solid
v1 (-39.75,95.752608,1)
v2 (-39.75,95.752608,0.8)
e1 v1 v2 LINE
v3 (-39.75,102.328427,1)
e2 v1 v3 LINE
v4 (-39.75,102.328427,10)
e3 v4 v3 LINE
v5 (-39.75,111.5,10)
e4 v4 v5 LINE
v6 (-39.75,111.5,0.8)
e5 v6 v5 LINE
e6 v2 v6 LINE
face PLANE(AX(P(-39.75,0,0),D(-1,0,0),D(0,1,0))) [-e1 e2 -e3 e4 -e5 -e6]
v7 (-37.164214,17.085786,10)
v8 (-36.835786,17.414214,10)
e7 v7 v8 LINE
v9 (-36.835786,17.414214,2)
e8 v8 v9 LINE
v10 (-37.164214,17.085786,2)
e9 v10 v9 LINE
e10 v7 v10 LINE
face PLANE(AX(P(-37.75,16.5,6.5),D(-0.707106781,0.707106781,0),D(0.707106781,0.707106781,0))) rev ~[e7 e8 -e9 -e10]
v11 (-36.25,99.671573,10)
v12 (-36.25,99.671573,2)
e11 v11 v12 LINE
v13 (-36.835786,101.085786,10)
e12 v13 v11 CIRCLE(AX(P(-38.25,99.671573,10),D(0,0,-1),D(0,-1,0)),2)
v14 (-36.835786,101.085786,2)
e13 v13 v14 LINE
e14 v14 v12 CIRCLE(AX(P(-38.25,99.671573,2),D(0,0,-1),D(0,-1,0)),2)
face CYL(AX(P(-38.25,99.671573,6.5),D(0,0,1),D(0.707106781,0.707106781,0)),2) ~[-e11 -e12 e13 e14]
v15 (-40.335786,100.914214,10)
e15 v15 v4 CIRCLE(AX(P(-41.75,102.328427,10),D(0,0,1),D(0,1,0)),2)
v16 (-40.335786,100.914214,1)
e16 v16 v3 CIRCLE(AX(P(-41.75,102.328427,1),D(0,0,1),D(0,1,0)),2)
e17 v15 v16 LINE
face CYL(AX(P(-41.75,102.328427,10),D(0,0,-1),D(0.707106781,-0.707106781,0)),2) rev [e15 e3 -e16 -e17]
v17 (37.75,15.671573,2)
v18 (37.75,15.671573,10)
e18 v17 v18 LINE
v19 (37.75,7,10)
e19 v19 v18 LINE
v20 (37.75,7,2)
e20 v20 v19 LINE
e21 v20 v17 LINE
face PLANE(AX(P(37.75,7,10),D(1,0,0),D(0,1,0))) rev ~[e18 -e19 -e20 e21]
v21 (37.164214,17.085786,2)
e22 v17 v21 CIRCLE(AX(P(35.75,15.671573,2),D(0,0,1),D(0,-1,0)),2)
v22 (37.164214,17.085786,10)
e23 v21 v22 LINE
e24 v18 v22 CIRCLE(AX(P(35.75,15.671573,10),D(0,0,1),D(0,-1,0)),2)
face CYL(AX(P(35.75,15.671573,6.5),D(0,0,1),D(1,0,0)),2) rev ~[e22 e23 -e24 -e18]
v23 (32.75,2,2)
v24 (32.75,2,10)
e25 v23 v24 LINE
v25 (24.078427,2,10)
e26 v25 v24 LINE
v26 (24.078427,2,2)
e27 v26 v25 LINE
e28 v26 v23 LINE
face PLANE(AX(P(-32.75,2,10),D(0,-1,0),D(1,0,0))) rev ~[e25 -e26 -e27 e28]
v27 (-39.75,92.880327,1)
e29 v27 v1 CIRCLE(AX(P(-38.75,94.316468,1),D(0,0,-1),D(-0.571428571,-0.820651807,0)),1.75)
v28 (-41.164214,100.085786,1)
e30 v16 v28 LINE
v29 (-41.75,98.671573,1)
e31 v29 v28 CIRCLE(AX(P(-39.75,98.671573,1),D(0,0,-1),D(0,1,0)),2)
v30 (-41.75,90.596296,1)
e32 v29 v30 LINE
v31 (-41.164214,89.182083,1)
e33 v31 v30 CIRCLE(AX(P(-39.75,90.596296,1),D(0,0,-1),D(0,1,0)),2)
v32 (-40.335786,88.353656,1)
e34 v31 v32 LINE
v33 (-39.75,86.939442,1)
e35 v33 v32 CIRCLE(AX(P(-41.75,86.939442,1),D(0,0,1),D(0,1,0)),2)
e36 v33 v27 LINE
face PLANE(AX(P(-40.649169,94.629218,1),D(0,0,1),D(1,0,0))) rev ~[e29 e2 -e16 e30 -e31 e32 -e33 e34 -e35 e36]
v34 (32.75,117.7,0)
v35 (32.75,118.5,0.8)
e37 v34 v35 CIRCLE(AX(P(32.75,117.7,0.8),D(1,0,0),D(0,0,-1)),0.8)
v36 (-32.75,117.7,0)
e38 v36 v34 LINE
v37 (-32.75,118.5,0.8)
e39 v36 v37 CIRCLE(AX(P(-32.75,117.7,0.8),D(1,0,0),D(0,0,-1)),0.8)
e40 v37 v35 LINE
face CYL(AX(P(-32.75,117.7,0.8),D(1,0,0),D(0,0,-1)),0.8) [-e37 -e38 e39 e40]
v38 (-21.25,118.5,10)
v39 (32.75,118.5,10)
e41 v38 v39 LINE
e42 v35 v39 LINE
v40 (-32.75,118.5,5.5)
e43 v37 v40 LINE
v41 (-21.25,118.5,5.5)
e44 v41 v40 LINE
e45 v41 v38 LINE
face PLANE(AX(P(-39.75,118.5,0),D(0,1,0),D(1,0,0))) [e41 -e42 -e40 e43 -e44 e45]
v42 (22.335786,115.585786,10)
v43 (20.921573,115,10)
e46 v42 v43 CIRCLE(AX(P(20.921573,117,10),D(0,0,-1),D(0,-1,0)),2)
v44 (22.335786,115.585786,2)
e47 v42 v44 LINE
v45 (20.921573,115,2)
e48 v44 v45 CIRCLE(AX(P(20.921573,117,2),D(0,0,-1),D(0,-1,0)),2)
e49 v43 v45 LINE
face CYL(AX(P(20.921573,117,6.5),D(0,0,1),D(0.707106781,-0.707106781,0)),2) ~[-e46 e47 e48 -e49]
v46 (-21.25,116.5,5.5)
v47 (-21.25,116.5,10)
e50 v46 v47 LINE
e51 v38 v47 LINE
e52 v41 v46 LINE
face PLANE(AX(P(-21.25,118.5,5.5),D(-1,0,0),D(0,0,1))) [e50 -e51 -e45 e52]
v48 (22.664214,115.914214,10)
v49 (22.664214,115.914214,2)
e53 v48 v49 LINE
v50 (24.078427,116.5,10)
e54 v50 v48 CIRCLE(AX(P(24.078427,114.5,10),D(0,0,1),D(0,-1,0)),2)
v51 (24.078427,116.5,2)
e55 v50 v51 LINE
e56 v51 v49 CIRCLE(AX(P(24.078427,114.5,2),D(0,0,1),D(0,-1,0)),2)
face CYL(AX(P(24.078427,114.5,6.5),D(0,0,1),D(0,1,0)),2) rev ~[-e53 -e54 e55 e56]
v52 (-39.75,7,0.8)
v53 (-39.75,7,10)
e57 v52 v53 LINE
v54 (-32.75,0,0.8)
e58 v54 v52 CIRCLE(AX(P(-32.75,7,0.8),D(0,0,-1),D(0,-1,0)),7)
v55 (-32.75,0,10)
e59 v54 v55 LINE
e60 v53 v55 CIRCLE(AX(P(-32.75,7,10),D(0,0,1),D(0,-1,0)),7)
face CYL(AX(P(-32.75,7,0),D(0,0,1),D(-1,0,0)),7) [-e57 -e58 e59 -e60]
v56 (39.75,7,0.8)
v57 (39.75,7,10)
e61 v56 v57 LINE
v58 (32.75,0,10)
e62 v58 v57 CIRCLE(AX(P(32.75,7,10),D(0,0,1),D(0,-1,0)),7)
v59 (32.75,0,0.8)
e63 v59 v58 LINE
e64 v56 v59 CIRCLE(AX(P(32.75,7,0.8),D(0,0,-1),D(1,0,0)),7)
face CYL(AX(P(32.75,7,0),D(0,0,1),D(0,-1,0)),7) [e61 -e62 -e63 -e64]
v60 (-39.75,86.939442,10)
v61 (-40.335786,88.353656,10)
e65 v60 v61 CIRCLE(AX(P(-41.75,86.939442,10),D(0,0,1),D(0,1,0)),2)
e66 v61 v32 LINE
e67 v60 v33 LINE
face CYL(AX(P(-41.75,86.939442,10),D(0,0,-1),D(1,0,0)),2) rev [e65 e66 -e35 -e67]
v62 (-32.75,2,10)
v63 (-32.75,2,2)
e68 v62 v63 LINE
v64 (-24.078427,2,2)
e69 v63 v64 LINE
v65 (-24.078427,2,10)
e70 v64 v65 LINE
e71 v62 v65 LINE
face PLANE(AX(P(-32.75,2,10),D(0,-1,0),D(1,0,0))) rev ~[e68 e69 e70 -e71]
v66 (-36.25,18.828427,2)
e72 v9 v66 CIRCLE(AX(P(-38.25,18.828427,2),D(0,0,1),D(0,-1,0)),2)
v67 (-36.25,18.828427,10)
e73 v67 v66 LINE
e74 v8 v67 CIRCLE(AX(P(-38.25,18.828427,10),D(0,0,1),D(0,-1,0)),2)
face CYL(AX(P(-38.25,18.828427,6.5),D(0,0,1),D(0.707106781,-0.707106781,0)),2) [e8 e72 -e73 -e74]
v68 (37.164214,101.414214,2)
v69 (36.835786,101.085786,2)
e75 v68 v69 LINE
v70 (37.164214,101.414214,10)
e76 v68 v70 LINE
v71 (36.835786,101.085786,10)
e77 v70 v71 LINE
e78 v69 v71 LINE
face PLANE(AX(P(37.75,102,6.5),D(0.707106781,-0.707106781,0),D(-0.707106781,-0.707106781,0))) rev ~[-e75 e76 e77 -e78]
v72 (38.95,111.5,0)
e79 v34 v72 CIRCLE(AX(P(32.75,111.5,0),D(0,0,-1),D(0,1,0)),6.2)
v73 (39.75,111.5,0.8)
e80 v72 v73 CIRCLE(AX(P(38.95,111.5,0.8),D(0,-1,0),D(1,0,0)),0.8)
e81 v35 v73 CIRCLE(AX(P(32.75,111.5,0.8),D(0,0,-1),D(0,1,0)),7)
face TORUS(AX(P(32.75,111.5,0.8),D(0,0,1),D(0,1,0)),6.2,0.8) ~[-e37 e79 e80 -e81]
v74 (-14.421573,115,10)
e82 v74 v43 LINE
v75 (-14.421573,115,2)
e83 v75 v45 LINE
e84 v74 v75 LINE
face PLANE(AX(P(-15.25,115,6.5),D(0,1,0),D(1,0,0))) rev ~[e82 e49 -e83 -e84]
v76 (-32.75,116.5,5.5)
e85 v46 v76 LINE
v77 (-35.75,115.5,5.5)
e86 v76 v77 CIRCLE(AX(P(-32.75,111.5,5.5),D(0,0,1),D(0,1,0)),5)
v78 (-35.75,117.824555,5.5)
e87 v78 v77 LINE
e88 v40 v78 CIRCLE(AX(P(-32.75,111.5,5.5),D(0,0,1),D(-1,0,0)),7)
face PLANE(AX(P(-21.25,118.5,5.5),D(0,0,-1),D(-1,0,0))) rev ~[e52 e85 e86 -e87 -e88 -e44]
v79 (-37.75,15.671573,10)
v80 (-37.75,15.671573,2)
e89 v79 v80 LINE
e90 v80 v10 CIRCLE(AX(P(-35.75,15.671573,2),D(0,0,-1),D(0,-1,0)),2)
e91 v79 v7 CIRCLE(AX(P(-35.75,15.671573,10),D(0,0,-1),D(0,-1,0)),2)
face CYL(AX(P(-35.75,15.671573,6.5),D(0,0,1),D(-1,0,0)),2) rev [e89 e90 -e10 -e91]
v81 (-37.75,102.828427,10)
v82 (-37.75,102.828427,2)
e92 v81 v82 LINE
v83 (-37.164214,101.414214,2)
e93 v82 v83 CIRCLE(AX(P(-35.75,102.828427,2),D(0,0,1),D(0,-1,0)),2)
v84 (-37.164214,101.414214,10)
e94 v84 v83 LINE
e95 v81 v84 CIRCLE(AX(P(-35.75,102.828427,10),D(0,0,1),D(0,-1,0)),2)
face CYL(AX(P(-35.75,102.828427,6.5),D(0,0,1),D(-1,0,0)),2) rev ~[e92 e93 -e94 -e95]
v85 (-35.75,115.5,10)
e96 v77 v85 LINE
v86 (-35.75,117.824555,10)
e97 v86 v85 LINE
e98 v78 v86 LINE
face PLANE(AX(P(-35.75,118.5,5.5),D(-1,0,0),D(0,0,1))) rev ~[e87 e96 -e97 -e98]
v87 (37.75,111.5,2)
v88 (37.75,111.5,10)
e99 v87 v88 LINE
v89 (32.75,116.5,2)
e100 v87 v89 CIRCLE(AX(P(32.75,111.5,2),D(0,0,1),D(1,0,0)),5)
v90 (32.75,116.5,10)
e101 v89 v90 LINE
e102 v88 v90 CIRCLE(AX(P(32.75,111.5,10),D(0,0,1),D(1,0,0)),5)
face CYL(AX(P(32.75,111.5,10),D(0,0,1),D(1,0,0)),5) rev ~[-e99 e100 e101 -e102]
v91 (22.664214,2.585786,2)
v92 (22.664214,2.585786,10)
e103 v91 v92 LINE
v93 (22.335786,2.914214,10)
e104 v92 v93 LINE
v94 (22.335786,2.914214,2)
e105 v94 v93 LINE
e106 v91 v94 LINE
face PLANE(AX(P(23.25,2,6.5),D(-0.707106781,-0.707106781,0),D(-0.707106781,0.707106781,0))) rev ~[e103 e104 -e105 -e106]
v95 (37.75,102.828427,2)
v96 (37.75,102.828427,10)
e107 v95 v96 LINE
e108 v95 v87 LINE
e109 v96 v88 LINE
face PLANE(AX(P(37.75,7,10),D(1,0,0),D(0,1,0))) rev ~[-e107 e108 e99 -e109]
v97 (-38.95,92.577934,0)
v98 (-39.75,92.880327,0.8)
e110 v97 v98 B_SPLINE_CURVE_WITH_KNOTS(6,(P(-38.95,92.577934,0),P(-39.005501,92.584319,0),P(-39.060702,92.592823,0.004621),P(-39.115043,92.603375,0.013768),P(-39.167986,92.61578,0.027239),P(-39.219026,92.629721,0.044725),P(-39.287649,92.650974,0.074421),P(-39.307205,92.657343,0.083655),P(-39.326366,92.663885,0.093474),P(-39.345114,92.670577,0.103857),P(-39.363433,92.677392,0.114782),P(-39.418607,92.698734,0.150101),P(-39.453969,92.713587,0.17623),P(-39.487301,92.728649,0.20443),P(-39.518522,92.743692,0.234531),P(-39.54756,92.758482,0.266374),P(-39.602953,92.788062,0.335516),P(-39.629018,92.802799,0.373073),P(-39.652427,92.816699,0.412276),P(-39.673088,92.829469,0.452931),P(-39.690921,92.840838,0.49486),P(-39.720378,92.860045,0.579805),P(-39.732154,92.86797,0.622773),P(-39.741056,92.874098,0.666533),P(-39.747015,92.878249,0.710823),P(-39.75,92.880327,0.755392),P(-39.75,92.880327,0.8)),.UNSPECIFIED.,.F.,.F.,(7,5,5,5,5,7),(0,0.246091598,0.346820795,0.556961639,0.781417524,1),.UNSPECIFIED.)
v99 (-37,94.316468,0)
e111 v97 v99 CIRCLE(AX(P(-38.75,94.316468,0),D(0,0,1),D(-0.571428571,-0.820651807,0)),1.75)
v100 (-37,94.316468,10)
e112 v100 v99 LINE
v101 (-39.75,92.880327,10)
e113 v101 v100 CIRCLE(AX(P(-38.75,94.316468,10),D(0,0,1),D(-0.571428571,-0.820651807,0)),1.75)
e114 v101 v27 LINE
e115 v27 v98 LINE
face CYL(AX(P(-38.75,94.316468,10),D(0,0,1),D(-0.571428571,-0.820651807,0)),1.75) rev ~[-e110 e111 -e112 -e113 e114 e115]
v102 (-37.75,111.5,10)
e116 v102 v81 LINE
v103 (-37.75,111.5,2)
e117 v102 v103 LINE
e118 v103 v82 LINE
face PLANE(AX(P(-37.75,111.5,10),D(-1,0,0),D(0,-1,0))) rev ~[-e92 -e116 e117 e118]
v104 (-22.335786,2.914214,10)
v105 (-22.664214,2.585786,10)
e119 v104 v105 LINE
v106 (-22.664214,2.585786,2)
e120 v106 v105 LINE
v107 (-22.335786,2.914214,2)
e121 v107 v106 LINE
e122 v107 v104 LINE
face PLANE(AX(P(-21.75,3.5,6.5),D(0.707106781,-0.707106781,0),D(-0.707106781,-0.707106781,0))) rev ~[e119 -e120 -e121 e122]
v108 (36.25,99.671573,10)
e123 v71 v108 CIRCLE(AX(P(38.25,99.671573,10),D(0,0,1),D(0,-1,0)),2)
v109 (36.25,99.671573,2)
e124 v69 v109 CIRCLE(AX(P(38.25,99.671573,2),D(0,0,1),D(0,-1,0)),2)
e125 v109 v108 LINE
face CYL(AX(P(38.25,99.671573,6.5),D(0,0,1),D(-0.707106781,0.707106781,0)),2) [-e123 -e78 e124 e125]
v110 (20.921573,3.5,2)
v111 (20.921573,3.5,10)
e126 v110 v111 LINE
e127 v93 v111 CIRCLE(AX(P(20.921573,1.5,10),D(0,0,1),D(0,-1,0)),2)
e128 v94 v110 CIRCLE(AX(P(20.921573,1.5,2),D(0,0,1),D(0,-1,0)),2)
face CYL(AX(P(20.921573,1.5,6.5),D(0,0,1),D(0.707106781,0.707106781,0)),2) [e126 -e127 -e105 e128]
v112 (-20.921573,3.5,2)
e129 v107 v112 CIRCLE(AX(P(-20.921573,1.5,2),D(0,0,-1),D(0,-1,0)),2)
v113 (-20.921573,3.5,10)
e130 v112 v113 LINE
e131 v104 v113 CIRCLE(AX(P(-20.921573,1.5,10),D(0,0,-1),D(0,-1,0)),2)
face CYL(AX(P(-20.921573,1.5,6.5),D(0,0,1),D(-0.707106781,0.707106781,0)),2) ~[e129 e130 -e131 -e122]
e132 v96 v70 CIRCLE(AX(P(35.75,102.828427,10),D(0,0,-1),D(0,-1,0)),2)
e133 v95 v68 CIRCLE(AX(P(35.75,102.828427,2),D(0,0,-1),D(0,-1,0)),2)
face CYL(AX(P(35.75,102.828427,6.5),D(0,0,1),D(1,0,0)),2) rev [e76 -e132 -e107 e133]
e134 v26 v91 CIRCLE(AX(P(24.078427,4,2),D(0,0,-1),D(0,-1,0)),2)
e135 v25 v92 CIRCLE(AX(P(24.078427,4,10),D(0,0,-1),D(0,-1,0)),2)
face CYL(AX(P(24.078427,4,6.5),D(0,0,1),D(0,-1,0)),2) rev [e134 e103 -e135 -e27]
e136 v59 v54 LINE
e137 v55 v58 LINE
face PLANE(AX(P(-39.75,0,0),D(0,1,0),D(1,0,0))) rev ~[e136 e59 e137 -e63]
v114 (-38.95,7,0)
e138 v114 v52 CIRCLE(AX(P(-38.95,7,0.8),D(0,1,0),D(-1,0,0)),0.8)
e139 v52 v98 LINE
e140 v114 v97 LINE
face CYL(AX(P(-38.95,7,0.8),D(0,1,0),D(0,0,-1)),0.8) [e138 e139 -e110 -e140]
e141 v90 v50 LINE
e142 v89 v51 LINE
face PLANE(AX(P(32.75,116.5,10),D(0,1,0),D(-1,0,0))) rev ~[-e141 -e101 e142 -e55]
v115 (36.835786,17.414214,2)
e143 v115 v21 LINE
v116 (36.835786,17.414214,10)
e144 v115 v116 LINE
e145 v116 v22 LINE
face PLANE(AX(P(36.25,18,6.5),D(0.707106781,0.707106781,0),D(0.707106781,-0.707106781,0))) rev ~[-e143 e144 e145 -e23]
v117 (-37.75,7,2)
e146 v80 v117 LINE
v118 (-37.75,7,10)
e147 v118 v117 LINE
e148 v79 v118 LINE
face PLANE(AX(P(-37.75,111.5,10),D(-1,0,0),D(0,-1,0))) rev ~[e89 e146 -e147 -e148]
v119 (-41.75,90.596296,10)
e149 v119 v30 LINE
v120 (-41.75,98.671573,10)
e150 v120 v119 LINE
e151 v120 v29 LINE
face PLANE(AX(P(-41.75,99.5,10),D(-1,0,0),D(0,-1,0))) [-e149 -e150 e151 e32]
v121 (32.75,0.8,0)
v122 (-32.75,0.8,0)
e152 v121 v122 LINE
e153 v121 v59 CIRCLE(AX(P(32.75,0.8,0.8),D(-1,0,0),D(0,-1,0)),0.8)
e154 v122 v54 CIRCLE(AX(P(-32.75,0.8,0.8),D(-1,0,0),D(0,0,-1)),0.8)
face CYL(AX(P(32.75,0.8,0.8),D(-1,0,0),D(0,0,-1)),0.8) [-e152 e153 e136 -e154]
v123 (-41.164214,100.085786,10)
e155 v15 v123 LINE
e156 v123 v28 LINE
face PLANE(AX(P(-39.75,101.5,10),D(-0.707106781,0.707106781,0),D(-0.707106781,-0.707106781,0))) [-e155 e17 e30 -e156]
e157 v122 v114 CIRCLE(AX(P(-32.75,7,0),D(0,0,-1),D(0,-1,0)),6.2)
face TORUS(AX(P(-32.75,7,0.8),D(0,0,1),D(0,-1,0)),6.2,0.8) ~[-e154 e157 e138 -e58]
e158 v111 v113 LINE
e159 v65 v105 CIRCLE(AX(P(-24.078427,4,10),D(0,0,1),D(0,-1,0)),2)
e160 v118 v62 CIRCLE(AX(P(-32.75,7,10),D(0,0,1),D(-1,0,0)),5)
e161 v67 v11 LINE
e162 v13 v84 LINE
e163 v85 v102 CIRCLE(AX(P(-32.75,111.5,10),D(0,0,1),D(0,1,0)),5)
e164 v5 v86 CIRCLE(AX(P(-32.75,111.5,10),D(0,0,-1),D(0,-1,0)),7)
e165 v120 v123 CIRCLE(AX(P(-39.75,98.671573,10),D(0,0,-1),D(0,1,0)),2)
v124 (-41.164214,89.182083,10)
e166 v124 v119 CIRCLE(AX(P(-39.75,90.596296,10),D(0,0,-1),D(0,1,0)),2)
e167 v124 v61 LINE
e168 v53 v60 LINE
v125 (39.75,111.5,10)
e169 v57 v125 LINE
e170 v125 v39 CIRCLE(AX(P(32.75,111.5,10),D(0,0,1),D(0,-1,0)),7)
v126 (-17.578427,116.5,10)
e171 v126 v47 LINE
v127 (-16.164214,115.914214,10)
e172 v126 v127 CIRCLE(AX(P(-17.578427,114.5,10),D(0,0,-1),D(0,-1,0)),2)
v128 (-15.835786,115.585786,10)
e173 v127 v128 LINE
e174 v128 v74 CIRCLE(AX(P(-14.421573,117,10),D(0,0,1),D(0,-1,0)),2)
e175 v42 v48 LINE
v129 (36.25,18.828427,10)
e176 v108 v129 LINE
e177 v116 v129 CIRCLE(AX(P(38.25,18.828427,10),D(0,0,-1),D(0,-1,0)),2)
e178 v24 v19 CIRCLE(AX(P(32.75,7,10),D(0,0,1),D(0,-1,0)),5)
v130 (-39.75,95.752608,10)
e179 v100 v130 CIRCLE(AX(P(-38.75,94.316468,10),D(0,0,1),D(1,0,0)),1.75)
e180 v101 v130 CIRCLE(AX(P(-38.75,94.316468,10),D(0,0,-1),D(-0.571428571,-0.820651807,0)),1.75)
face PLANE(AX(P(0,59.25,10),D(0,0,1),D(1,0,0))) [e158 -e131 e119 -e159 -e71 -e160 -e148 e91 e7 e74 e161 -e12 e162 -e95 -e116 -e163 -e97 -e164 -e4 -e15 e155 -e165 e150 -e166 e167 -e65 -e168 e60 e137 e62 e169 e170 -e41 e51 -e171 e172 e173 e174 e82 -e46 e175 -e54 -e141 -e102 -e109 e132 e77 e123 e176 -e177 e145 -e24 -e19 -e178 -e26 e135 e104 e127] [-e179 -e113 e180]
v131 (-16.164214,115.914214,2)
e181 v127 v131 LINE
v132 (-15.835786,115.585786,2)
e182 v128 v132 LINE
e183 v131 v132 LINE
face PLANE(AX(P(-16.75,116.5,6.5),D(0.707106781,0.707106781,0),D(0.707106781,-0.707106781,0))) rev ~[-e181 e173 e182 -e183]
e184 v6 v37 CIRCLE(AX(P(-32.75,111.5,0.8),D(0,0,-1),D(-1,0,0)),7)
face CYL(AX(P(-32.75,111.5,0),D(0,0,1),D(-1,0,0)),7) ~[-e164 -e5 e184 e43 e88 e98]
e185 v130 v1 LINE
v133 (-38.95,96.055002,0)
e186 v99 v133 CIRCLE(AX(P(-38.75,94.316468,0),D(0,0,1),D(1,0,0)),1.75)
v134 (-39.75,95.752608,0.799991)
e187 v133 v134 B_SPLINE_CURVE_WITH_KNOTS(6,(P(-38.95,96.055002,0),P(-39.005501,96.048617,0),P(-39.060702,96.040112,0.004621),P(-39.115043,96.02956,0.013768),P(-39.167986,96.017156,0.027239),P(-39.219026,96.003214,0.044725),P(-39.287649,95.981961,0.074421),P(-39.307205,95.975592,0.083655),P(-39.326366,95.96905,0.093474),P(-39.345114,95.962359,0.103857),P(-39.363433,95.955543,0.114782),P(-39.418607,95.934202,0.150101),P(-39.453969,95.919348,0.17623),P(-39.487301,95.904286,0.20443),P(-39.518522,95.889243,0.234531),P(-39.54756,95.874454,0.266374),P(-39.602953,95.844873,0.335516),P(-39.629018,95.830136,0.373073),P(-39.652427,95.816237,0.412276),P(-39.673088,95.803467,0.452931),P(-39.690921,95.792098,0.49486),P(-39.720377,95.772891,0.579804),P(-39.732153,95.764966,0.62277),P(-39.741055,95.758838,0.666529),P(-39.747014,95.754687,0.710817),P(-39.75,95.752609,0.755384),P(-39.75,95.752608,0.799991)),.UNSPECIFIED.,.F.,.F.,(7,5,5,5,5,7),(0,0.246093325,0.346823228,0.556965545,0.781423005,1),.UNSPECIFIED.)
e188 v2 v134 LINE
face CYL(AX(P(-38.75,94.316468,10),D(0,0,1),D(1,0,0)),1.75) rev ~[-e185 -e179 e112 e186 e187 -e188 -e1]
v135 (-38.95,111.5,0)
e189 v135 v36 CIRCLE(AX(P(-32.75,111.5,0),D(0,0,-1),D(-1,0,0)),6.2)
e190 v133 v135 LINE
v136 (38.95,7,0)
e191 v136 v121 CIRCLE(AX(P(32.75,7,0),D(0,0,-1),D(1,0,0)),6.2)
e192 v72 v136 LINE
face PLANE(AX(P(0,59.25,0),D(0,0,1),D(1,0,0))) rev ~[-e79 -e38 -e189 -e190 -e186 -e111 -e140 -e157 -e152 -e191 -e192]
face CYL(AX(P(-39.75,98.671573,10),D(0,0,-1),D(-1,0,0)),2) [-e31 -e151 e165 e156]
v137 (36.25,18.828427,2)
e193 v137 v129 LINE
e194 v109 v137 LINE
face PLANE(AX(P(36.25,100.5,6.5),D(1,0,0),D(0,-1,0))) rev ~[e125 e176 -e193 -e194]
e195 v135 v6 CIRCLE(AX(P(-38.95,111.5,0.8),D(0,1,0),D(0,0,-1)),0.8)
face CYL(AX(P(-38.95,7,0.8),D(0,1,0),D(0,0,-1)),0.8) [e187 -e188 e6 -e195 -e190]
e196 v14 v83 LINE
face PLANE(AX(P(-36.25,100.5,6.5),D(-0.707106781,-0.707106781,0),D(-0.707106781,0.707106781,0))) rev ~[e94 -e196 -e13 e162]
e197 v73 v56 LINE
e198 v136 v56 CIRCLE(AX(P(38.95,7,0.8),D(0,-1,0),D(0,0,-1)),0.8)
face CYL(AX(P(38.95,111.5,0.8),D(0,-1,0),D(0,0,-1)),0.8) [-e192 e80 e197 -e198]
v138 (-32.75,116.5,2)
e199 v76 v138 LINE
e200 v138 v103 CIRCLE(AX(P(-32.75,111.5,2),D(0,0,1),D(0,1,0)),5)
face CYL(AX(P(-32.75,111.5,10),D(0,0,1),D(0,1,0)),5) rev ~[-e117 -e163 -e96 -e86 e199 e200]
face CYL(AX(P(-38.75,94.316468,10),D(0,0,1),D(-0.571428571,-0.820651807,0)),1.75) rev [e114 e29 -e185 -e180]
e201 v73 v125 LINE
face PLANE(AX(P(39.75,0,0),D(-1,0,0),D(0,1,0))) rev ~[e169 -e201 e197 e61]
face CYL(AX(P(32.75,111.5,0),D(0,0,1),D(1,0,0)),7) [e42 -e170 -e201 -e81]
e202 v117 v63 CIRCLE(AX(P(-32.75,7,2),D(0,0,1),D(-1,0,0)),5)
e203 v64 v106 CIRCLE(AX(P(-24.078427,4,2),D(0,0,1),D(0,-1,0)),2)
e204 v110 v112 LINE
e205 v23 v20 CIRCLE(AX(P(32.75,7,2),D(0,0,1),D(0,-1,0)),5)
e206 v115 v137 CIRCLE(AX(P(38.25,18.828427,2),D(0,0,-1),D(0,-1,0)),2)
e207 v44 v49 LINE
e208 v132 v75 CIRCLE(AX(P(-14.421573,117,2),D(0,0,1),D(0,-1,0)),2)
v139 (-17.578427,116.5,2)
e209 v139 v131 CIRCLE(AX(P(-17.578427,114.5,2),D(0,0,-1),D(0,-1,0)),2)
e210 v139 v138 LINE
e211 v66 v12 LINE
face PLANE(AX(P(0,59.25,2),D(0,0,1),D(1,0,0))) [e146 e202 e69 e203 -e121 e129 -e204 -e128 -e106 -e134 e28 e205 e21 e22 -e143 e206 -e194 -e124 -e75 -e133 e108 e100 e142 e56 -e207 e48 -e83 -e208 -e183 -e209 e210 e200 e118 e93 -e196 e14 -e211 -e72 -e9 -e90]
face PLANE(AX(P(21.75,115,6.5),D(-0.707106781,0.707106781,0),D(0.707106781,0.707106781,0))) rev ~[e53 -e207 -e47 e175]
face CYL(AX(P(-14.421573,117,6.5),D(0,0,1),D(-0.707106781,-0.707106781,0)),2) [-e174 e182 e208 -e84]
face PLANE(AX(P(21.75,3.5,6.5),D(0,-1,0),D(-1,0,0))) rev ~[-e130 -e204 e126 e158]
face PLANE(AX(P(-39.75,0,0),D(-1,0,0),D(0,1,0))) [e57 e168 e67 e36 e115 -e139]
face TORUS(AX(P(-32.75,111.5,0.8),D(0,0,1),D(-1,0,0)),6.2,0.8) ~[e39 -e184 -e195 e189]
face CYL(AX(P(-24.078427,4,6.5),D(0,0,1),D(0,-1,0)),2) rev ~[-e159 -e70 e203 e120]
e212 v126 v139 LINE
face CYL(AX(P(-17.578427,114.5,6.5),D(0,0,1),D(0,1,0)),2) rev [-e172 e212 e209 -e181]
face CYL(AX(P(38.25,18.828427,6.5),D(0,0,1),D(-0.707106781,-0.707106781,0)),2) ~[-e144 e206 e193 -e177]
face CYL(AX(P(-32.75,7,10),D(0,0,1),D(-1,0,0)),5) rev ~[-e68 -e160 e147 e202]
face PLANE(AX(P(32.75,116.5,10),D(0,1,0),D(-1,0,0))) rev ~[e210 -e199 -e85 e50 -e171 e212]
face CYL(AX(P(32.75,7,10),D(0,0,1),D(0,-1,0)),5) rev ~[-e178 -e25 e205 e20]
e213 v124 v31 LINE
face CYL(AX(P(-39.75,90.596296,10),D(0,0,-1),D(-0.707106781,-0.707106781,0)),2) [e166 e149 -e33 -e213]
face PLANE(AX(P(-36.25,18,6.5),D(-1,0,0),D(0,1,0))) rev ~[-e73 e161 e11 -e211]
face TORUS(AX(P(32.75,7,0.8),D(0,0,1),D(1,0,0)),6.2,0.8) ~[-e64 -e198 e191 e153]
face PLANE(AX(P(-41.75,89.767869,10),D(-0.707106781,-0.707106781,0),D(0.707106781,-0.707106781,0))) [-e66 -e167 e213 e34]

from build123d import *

# Parameters (mm, degrees)
F0_W      = 79.5
F0_H      = 118.5
F1_DEPTH  = 10
F3_R      = 7
F5_DEPTH  = 3.5
F6_R      = 0.8
F8_DEPTH  = 3.5
F9_R      = 2
F10_DEPTH = 4.5
F2_W      = 14.5
F2_H      = 4.5
F11_DEPTH = 4
F13_DEPTH = 9
F14_DEPTH = 25
F15_R     = 2


with BuildPart() as f1:
    # F0 (on Top) → F1 (new body)
    with BuildSketch(Plane.XY):
        with Locations((0, 59.25)):
            Rectangle(F0_W, F0_H)
    extrude(amount=F1_DEPTH)

    # F3
    f3_edges = [f1.edges().sort_by_distance(p)[0] for p in [
        (-39.75, 118.5, 5),
        (-39.75, 0, 5),
        (39.75, 0, 5),
        (39.75, 118.5, 5),
    ]]
    fillet(f3_edges, radius=F3_R)

    # F4 (on face) → F5 (cut)
    with BuildSketch(Plane.XY.offset(10)):
        with BuildLine():
            Line((32.75, 116.5), (-32.75, 116.5))
            ThreePointArc((-32.75, 116.5), (-36.2855339059, 115.0355339059), (-37.75, 111.5))
            Line((-37.75, 111.5), (-37.75, 7))
            ThreePointArc((-37.75, 7), (-36.2855339059, 3.4644660941), (-32.75, 2))
            Line((-32.75, 2), (32.75, 2))
            ThreePointArc((32.75, 2), (36.2855339059, 3.4644660941), (37.75, 7))
            Line((37.75, 7), (37.75, 111.5))
            ThreePointArc((37.75, 111.5), (36.2855339059, 115.0355339059), (32.75, 116.5))
        make_face()
    extrude(amount=-F5_DEPTH, mode=Mode.SUBTRACT)

    # F6
    f6_edges = [f1.edges().sort_by_distance(p)[0] for p in [
        (0, 118.5, 0),
        (37.699747, 116.449747, 0),
        (-37.699747, 116.449747, 0),
        (39.75, 59.25, 0),
        (-39.75, 59.25, 0),
        (37.699747, 2.050253, 0),
        (-37.699747, 2.050253, 0),
        (0, 0, 0),
    ]]
    fillet(f6_edges, radius=F6_R)

    # F7 (on face) → F8 (join)
    with BuildSketch(Plane.XY.offset(6.5)):
        Polygon((-36.25, 100.5), (-37.75, 102), (-37.75, 16.5), (-36.25, 18), align=None)
        Polygon((37.75, 16.5), (37.75, 102), (36.25, 100.5), (36.25, 18), align=None)
        Polygon((-21.75, 3.5), (-23.25, 2), (23.25, 2), (21.75, 3.5), align=None)
        Polygon((23.25, 116.5), (-16.75, 116.5), (-15.25, 115), (21.75, 115), align=None)
    extrude(amount=F8_DEPTH)

    # F9
    f9_edges = [f1.edges().sort_by_distance(p)[0] for p in [
        (-37.75, 102, 8.25),
        (-36.25, 100.5, 8.25),
        (-37.75, 16.5, 8.25),
        (-36.25, 18, 8.25),
        (36.25, 100.5, 8.25),
        (37.75, 102, 8.25),
        (36.25, 18, 8.25),
        (37.75, 16.5, 8.25),
        (23.25, 2, 8.25),
        (21.75, 3.5, 8.25),
        (-23.25, 2, 8.25),
        (-21.75, 3.5, 8.25),
        (-16.75, 116.5, 8.25),
        (-15.25, 115, 8.25),
        (21.75, 115, 8.25),
        (23.25, 116.5, 8.25),
    ]]
    fillet(f9_edges, radius=F9_R)

    # F10 (cut): a face of the model
    f10_faces = [f1.faces().sort_by_distance(p)[0] for p in [
        (-0.0227609258, 59.3168047951, 6.5),
    ]]
    extrude(f10_faces, amount=-F10_DEPTH, mode=Mode.SUBTRACT)

    # F2 (on face) → F11 (cut)
    with BuildSketch(Plane(origin=(0, 118.5, 0), x_dir=(-1, 0, 0), z_dir=(0, 1, 0))):
        with Locations((28.5, 7.75)):
            Rectangle(F2_W, F2_H)
    extrude(amount=-F11_DEPTH, mode=Mode.SUBTRACT)

    # F12 (on face) → F13 (join)
    with BuildSketch(Plane.XY.offset(10)):
        with BuildLine():
            ThreePointArc((-39.75, 92.8803269811), (-40.5, 94.3164676428), (-39.75, 95.7526083044))
            Line((-39.75, 95.7526083044), (-39.75, 101.5))
            Line((-39.75, 101.5), (-41.75, 99.5))
            Line((-41.75, 99.5), (-41.75, 89.7678693718))
            Line((-41.75, 89.7678693718), (-39.75, 87.7678693718))
            Line((-39.75, 87.7678693718), (-39.75, 92.8803269811))
        make_face()
    extrude(amount=-F13_DEPTH)

    # F12 (on face) → F14 (cut)
    with BuildSketch(Plane.XY.offset(10)):
        with BuildLine():
            Line((-39.75, 92.8803269811), (-39.75, 95.7526083044))
            ThreePointArc((-39.75, 95.7526083044), (-40.5, 94.3164676428), (-39.75, 92.8803269811))
        make_face()
        with BuildLine():
            ThreePointArc((-39.75, 92.8803269811), (-37.9399074127, 92.765258437), (-37, 94.3164676428))
            ThreePointArc((-37, 94.3164676428), (-37.9399074127, 95.8676768485), (-39.75, 95.7526083044))
            Line((-39.75, 95.7526083044), (-39.75, 92.8803269811))
        make_face()
    extrude(amount=-F14_DEPTH, mode=Mode.SUBTRACT)

    # F15
    f15_edges = [f1.edges().sort_by_distance(p)[0] for p in [
        (-41.75, 99.5, 5.5),
        (-39.75, 101.5, 5.5),
        (-41.75, 89.767869, 5.5),
        (-39.75, 87.767869, 5.5),
    ]]
    fillet(f15_edges, radius=F15_R)


solid = f1.part
